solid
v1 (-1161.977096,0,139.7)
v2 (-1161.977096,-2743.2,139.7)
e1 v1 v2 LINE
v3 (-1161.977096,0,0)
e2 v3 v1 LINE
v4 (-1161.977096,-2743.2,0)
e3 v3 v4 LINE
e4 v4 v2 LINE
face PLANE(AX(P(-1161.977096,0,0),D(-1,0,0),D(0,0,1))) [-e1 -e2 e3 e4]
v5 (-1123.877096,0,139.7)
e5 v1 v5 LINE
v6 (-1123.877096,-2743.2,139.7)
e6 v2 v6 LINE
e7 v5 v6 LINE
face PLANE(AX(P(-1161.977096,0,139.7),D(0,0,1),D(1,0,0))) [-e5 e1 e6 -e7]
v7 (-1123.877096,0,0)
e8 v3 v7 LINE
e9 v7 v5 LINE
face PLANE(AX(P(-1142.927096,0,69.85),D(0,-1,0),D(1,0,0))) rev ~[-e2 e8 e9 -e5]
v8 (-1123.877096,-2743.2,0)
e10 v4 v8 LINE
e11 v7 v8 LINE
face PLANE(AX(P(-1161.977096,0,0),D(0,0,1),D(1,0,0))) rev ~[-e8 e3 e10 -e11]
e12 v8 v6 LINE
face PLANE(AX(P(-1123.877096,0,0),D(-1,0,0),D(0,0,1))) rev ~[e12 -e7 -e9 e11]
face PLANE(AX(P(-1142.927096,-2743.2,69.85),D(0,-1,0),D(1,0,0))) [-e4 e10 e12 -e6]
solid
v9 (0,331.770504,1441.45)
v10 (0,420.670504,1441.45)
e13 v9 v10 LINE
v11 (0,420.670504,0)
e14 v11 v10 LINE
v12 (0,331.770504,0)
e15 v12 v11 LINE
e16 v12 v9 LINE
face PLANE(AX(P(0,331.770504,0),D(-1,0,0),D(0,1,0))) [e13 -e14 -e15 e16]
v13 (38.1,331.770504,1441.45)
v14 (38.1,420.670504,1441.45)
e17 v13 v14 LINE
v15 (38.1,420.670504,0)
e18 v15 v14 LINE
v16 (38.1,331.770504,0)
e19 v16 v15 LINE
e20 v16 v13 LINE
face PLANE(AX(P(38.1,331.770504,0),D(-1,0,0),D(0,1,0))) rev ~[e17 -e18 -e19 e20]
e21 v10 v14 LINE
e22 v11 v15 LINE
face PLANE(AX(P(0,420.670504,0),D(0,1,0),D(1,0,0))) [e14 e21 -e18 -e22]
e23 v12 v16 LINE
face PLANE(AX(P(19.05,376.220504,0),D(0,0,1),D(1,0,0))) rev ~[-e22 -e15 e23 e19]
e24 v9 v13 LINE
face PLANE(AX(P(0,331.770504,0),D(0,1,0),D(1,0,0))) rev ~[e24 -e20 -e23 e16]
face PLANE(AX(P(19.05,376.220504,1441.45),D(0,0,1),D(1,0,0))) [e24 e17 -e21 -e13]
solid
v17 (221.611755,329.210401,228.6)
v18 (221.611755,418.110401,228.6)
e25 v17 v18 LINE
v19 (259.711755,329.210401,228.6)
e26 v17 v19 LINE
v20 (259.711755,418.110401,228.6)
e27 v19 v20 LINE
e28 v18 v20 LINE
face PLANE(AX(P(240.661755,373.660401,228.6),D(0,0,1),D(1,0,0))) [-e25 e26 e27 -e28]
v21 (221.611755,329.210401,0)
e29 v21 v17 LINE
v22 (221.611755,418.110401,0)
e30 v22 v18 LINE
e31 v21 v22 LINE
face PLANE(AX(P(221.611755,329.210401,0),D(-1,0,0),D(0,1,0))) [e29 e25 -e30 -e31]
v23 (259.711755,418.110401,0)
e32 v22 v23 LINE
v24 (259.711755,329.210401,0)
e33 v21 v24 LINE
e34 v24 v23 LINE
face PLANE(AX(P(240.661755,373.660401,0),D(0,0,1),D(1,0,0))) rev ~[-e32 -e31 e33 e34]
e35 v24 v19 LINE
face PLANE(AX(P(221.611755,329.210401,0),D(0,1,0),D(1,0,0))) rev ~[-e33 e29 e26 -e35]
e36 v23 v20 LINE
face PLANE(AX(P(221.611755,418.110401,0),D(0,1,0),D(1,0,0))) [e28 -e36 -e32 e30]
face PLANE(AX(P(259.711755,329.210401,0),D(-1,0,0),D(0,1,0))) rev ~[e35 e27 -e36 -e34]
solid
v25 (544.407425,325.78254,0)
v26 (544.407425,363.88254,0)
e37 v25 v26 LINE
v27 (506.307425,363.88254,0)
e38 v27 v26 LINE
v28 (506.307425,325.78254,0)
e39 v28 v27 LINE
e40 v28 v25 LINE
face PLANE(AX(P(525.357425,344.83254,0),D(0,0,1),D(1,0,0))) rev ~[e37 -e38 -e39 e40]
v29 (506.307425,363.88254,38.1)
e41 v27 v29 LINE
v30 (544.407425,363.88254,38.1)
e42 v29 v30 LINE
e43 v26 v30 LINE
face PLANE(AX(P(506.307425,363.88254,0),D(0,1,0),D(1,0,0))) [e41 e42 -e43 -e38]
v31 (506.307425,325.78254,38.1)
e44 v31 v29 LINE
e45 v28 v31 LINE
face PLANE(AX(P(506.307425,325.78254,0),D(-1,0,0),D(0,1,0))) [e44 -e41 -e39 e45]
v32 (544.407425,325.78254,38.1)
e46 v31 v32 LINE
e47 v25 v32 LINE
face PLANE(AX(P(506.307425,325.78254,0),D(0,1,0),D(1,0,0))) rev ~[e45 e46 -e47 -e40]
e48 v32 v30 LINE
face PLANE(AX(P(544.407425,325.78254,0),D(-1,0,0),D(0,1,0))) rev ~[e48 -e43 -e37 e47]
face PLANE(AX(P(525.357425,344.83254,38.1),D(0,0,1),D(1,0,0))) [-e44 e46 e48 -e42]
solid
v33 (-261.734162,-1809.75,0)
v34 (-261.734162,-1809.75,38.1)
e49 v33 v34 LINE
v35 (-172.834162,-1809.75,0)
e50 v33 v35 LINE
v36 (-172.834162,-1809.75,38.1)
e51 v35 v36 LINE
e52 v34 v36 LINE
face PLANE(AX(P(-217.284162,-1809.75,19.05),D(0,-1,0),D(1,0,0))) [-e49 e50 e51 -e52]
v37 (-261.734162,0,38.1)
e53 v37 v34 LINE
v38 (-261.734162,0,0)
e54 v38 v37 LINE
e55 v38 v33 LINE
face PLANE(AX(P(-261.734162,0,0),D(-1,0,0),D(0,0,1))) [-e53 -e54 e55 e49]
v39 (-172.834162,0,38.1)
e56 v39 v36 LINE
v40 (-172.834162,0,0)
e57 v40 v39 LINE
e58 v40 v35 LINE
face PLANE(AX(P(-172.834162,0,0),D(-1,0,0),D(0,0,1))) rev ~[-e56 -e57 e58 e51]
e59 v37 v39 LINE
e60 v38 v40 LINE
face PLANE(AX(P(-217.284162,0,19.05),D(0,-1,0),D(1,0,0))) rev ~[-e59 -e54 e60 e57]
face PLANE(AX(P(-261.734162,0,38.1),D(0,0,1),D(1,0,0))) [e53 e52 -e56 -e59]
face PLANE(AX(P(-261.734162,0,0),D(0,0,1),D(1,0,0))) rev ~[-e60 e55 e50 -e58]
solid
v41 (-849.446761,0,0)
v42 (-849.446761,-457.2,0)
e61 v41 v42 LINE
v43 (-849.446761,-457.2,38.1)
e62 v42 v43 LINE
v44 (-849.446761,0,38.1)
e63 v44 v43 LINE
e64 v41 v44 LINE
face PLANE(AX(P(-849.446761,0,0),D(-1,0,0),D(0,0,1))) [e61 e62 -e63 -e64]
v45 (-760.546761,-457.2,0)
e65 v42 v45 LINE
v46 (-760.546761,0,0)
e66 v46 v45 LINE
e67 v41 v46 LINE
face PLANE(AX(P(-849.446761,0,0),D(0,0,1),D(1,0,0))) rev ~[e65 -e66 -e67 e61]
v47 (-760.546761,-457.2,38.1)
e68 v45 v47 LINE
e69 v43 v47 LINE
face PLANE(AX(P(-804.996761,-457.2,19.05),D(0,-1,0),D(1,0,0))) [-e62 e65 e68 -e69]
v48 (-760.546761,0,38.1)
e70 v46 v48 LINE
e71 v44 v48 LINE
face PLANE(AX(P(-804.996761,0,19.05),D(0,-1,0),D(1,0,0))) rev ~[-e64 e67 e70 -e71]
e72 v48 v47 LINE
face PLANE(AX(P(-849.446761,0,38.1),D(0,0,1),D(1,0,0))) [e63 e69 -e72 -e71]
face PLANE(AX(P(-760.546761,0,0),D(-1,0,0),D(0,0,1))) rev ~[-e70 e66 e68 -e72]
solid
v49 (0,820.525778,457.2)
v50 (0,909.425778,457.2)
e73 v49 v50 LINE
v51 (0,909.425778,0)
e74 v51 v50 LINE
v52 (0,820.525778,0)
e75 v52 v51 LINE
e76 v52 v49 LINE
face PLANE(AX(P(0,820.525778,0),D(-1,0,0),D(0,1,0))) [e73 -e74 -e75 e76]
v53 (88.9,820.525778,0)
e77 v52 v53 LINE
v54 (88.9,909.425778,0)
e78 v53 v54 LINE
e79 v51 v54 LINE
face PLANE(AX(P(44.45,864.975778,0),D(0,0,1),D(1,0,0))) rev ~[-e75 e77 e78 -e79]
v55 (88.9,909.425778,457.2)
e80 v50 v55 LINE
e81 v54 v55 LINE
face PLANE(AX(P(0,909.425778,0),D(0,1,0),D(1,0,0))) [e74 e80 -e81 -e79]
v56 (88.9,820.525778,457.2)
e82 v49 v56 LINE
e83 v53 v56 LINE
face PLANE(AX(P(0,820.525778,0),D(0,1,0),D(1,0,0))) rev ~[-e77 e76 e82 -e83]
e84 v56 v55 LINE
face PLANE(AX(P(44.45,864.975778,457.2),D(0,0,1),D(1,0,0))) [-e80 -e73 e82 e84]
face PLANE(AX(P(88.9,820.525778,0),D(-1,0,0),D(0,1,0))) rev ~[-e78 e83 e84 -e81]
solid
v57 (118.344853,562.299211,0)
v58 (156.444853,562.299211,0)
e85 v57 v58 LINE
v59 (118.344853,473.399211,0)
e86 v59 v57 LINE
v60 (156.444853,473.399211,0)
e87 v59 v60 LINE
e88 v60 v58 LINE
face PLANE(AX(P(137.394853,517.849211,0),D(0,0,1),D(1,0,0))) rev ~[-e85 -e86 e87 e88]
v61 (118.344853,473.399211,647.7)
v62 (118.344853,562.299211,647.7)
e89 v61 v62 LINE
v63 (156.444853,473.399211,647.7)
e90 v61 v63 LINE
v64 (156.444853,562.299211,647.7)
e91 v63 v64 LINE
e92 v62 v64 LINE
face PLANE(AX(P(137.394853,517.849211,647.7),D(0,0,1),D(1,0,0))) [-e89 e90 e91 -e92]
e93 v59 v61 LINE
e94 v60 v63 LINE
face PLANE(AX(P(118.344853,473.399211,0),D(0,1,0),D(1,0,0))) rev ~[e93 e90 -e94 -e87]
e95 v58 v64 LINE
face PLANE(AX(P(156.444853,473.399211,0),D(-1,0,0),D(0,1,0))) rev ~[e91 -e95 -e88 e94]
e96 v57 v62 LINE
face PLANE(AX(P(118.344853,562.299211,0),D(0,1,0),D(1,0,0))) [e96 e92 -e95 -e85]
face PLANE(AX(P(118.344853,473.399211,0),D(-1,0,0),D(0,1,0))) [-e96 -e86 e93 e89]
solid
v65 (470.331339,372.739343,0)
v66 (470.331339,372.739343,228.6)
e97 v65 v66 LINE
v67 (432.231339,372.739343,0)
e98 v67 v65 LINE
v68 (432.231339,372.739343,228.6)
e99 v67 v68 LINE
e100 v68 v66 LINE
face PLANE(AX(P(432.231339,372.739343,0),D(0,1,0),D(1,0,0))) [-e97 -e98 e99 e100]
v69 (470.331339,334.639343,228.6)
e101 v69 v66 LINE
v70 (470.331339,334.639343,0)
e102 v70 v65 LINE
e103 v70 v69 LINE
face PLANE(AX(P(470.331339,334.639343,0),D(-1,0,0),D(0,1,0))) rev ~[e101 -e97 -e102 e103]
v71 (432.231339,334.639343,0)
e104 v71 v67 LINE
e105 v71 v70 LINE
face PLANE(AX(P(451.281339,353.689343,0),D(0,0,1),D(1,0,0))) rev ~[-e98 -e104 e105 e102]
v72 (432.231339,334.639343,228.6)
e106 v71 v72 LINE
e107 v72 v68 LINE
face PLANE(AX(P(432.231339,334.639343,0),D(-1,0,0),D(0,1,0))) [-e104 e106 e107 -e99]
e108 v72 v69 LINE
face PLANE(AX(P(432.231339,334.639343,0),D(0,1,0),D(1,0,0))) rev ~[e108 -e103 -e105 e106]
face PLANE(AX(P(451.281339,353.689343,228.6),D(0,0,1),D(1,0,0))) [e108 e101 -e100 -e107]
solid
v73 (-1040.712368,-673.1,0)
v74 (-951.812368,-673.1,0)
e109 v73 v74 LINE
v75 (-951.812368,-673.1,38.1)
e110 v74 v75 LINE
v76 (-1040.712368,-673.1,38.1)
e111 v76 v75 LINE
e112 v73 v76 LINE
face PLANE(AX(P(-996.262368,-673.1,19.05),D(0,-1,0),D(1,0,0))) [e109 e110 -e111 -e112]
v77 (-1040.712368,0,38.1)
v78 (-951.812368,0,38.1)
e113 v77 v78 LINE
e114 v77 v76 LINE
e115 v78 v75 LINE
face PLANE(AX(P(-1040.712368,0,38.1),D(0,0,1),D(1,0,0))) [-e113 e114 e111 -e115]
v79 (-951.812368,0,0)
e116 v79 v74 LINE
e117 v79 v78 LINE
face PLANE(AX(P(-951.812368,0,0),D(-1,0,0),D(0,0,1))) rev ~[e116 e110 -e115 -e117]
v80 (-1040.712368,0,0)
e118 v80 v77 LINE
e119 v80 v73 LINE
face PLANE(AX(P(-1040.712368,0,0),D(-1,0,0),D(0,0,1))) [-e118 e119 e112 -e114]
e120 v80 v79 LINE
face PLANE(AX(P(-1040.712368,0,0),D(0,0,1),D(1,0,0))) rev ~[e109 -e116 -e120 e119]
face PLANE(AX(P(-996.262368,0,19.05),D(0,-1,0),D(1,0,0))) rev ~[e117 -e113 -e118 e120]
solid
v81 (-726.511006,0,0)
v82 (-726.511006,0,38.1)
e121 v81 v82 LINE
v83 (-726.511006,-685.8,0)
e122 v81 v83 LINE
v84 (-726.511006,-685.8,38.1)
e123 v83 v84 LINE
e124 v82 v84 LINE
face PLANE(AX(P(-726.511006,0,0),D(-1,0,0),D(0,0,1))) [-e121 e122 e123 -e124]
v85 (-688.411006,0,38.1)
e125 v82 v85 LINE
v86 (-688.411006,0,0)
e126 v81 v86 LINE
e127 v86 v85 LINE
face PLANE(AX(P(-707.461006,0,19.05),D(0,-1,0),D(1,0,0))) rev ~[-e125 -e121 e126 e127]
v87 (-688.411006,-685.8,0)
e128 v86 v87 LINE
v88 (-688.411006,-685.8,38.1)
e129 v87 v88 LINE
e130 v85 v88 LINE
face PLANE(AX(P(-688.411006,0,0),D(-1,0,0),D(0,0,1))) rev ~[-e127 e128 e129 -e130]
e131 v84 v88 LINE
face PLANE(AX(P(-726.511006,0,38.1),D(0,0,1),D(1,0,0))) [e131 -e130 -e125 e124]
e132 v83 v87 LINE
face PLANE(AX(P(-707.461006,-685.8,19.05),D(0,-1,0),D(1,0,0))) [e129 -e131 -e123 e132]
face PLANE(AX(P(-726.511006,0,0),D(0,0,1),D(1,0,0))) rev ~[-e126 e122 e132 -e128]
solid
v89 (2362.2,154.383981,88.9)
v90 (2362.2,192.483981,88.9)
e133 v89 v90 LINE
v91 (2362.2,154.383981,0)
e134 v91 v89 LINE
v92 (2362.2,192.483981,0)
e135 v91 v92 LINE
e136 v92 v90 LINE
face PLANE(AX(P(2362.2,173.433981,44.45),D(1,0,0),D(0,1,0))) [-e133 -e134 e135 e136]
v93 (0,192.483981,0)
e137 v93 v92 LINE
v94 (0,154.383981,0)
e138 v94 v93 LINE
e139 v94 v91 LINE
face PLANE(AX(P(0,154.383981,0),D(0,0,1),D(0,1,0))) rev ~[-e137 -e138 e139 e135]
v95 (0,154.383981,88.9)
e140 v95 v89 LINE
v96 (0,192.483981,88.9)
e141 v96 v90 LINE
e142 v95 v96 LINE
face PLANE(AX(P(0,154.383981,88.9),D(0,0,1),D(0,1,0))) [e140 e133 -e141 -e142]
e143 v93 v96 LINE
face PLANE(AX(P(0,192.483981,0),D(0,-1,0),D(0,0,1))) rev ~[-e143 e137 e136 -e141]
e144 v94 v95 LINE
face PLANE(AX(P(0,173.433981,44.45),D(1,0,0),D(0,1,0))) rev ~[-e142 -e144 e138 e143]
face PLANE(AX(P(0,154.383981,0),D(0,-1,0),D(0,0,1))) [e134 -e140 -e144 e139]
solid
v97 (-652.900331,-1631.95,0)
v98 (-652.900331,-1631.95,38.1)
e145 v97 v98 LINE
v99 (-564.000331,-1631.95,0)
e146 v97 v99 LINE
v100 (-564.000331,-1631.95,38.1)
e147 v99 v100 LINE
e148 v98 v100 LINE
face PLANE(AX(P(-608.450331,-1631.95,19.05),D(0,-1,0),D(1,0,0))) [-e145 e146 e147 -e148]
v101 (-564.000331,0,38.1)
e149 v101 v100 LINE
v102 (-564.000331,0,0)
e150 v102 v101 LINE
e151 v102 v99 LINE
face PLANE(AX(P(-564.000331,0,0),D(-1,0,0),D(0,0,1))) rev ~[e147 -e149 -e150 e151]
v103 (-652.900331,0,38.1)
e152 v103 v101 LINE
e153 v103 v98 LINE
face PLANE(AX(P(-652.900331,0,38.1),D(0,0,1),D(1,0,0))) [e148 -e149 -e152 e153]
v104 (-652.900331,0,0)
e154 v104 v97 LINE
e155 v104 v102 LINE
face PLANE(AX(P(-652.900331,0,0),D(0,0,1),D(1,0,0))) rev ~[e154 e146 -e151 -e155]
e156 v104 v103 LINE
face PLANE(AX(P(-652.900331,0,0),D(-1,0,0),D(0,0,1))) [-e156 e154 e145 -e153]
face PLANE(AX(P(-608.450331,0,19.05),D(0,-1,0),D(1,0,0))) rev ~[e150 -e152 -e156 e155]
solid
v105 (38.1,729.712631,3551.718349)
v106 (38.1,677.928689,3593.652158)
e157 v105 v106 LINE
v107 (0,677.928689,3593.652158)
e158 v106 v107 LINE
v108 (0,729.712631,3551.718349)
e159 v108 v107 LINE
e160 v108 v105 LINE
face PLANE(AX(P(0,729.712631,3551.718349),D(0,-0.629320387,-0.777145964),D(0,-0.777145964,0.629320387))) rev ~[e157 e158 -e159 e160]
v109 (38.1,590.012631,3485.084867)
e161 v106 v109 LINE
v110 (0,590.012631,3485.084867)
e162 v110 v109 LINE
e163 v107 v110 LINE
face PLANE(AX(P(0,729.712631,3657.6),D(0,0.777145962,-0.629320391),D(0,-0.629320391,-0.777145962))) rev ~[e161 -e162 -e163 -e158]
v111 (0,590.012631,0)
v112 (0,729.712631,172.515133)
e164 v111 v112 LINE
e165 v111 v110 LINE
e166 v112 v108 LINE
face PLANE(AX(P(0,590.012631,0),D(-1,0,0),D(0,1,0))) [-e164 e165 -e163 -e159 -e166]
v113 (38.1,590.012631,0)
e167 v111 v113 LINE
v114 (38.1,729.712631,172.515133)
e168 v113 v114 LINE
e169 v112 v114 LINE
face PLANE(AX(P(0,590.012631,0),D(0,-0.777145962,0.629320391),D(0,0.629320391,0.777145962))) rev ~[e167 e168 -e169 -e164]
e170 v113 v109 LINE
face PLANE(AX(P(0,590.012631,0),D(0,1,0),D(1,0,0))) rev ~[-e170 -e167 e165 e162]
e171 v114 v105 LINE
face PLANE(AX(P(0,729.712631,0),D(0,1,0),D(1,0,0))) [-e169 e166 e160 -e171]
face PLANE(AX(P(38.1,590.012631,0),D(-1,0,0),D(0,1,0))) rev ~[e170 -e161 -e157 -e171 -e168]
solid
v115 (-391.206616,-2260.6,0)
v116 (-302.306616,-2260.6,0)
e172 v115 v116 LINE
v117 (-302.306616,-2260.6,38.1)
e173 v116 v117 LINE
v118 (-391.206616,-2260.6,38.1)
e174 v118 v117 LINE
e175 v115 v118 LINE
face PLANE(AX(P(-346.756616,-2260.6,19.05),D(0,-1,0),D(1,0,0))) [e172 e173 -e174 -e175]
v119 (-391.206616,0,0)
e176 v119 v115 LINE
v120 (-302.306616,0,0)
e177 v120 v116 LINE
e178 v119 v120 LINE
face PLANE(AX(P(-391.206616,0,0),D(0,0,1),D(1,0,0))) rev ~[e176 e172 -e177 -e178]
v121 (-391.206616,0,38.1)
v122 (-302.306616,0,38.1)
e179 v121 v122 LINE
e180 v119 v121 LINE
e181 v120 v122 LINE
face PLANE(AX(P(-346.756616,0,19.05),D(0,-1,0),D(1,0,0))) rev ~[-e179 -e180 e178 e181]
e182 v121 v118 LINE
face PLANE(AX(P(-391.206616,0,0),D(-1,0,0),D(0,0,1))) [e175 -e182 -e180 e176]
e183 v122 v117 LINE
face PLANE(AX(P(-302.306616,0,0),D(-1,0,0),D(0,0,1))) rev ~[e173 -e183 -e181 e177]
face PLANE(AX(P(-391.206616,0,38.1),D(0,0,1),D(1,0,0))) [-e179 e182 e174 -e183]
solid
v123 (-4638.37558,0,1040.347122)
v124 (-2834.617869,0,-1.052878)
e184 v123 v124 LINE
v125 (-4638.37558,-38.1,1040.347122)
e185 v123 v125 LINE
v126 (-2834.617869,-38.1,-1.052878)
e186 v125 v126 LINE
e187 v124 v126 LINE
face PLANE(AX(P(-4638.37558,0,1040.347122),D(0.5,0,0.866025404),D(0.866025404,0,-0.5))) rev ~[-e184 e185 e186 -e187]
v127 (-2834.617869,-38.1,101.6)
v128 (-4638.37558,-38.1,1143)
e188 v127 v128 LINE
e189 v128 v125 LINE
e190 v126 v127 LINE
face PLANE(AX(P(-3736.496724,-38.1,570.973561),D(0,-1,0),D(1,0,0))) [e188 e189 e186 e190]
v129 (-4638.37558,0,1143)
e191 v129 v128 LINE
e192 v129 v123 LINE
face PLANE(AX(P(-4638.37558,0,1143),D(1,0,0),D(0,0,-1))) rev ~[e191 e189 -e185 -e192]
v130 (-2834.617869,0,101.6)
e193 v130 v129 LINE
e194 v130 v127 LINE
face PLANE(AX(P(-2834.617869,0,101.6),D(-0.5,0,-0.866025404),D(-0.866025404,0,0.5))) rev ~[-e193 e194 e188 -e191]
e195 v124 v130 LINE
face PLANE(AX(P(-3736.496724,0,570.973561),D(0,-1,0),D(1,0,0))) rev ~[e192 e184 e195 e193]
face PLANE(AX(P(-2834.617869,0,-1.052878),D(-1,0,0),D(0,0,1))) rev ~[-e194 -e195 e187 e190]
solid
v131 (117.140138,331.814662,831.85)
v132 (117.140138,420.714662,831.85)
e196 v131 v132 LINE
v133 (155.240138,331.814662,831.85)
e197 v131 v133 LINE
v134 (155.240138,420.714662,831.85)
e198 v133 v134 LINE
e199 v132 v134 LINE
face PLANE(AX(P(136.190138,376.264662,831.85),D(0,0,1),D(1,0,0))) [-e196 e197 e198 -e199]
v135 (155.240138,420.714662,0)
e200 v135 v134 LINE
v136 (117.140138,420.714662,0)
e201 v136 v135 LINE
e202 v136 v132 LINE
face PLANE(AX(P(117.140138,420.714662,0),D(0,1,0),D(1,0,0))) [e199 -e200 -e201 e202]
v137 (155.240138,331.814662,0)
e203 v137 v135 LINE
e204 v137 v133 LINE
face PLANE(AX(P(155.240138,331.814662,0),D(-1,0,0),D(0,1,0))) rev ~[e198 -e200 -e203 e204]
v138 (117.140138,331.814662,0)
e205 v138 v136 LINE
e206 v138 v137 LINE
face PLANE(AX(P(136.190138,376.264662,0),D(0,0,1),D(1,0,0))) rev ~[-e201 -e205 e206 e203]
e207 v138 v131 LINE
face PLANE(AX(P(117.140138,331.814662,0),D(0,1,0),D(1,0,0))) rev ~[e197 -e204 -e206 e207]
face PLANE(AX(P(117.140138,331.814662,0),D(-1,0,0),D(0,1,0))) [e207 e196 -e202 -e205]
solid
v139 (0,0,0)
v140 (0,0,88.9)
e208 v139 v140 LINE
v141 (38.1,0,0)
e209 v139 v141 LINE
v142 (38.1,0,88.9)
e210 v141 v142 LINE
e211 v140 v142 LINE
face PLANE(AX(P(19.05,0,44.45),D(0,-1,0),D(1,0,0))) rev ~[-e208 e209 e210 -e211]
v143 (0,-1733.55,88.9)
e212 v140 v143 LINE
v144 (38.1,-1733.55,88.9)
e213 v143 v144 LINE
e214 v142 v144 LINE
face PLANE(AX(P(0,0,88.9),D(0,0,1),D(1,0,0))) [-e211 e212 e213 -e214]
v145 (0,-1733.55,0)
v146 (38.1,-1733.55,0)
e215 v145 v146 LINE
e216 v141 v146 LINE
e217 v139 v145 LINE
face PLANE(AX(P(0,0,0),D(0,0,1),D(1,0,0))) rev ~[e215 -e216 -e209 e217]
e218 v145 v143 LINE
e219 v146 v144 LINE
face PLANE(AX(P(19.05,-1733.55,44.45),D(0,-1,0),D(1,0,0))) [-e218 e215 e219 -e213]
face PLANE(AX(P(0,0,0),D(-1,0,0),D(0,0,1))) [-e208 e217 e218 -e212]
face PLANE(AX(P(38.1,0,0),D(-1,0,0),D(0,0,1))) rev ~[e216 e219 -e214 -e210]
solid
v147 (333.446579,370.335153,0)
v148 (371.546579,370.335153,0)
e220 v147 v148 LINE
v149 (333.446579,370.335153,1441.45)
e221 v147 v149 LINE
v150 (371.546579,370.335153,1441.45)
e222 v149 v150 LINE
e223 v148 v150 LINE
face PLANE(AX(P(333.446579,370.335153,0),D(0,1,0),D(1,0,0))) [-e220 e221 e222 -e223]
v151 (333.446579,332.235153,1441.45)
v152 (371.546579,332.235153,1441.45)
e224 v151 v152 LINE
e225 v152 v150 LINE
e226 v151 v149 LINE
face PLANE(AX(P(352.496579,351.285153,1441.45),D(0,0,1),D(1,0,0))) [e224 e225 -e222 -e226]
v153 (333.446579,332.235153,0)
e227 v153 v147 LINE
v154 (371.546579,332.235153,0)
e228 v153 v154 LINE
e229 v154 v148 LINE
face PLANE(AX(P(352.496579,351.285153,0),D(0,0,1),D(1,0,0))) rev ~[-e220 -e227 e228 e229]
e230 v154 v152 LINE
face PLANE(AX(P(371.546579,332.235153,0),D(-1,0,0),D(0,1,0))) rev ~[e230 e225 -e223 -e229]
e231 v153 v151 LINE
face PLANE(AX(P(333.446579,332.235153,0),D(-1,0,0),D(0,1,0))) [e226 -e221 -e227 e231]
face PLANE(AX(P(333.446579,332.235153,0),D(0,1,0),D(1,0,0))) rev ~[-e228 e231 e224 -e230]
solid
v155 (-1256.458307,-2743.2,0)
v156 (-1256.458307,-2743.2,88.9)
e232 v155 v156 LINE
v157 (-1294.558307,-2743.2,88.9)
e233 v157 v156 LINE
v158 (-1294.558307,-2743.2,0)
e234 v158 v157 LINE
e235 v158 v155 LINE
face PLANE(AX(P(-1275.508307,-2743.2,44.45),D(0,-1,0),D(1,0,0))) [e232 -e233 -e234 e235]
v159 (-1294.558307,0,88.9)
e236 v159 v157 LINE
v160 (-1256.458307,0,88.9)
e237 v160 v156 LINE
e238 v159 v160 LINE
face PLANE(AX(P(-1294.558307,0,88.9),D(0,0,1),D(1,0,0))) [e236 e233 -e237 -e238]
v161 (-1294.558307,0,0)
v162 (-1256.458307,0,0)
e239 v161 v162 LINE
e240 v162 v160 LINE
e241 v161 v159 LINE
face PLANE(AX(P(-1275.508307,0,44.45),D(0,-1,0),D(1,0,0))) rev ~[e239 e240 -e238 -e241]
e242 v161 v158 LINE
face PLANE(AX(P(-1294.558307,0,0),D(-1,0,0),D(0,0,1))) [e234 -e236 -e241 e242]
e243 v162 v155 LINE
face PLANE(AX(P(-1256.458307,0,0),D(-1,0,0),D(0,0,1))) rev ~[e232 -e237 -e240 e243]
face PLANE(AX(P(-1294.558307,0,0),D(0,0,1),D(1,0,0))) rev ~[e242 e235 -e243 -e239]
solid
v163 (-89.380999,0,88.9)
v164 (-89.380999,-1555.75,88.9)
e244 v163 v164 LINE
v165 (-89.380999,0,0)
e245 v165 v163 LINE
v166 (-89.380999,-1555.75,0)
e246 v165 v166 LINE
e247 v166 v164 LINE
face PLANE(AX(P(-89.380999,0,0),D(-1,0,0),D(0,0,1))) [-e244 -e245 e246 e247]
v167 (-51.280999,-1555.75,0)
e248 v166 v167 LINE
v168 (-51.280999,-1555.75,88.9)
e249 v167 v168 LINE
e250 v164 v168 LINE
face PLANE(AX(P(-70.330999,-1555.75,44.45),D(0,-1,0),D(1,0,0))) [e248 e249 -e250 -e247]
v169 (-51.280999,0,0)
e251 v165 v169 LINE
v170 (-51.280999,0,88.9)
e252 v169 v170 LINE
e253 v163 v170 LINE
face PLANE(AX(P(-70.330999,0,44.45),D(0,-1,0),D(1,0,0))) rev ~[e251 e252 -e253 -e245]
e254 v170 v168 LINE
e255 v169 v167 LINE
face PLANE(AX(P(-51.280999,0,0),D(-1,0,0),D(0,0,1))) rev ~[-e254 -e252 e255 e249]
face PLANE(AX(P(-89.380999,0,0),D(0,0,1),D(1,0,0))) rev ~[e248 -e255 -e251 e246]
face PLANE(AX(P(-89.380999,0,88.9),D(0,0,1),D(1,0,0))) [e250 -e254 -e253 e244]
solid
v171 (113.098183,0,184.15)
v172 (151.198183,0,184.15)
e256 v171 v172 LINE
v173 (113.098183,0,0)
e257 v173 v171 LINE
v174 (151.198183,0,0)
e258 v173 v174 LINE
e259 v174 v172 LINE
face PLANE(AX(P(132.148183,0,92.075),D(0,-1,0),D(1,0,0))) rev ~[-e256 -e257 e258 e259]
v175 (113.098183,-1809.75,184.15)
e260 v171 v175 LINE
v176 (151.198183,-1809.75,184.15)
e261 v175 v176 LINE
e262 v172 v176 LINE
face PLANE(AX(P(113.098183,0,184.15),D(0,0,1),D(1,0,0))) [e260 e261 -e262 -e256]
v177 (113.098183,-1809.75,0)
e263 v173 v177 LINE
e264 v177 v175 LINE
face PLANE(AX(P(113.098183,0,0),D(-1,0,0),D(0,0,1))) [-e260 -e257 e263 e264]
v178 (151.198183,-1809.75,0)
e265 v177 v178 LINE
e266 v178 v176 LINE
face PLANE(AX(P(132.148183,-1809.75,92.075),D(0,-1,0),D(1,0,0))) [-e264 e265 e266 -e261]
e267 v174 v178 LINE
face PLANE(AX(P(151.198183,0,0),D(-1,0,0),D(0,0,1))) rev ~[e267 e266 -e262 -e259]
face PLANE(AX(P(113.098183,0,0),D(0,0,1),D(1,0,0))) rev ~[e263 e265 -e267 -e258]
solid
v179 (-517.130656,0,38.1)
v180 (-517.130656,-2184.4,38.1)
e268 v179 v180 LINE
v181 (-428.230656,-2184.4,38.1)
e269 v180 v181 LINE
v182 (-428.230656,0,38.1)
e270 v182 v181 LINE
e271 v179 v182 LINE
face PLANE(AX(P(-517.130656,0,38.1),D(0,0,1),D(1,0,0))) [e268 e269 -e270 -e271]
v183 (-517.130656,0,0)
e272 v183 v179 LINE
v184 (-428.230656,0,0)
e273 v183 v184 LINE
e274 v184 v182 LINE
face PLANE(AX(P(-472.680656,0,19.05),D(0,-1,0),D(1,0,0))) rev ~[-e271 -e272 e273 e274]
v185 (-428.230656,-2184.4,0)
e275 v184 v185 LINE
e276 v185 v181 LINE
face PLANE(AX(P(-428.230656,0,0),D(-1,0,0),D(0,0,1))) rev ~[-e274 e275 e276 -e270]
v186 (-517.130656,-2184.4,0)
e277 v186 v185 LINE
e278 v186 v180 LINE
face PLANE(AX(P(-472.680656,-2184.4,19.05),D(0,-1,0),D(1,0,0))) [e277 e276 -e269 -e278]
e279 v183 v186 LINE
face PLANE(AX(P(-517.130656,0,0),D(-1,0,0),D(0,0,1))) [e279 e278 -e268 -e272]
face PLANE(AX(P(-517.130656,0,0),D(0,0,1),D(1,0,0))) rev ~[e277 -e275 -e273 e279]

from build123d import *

# Parameters (mm, degrees)
F0_W      = 38.1
F0_H      = 88.9
F1_DEPTH  = 1733.55
F2_W      = 38.1
F2_H      = 184.15
F3_DEPTH  = 1809.75
F4_W      = 38.1
F4_H      = 88.9
F5_DEPTH  = 1555.75
F6_W      = 38.1
F6_H      = 88.9
F7_DEPTH  = 2362.2
F8_W      = 88.9
F8_H      = 38.1
F9_DEPTH  = 1809.75
F10_W     = 88.9
F10_H     = 38.1
F11_DEPTH = 2260.6
F12_W     = 38.1
F12_H     = 88.9
F13_DEPTH = 1441.45
F14_W     = 38.1
F14_H     = 139.7
F15_DEPTH = 3657.6
F17_DEPTH = 38.1
F19_DEPTH = 38.1
F20_W     = 88.9
F20_H     = 38.1
F21_DEPTH = 2184.4
F22_W     = 88.9
F22_H     = 38.1
F23_DEPTH = 1631.95
F24_W     = 38.1
F24_H     = 88.9
F25_DEPTH = 831.85
F26_W     = 38.1
F26_H     = 88.9
F27_DEPTH = 228.6
F28_W     = 38.1
F28_H     = 38.1
F29_DEPTH = 1441.45
F30_W     = 38.1
F30_H     = 38.1
F31_DEPTH = 685.8
F32_W     = 88.9
F32_H     = 38.1
F33_DEPTH = 457.2
F34_W     = 88.9
F34_H     = 88.9
F35_DEPTH = 457.2
F36_W     = 38.1
F36_H     = 38.1
F37_DEPTH = 228.6
F38_W     = 38.1
F38_H     = 38.1
F39_DEPTH = 38.1
F41_W     = 88.9
F41_H     = 38.1
F42_DEPTH = 673.1
F43_W     = 38.1
F43_H     = 139.7
F44_DEPTH = 2743.2
F45_DEPTH = 38.1
F46_W     = 38.1
F46_H     = 88.9
F47_DEPTH = 2743.2
F48_W     = 38.1
F48_H     = 88.9
F49_DEPTH = 647.7


with BuildPart() as f1:
    # F0 (on Front) → F1 (new body)
    with BuildSketch(Plane.XZ):
        with Locations((19.05, 44.45)):
            Rectangle(F0_W, F0_H)
    extrude(amount=F1_DEPTH)


with BuildPart() as f3:
    # F2 (on Front) → F3 (new body)
    with BuildSketch(Plane.XZ):
        with Locations((132.148183, 92.075)):
            Rectangle(F2_W, F2_H)
    extrude(amount=F3_DEPTH)


with BuildPart() as f5:
    # F4 (on Front) → F5 (new body)
    with BuildSketch(Plane.XZ):
        with Locations((-70.330999, 44.45)):
            Rectangle(F4_W, F4_H)
    extrude(amount=F5_DEPTH)


with BuildPart() as f7:
    # F6 (on Right) → F7 (new body)
    with BuildSketch(Plane.YZ):
        with Locations((173.433981, 44.45)):
            Rectangle(F6_W, F6_H)
    extrude(amount=F7_DEPTH)


with BuildPart() as f9:
    # F8 (on Front) → F9 (new body)
    with BuildSketch(Plane.XZ):
        with Locations((-217.284162, 19.05)):
            Rectangle(F8_W, F8_H)
    extrude(amount=F9_DEPTH)


with BuildPart() as f11:
    # F10 (on Front) → F11 (new body)
    with BuildSketch(Plane.XZ):
        with Locations((-346.756616, 19.05)):
            Rectangle(F10_W, F10_H)
    extrude(amount=F11_DEPTH)


with BuildPart() as f13:
    # F12 (on Top) → F13 (new body)
    with BuildSketch(Plane.XY):
        with Locations((19.05, 376.220504)):
            Rectangle(F12_W, F12_H)
    extrude(amount=F13_DEPTH)


with BuildPart() as f15:
    # F14 (on Top) → F15 (new body)
    with BuildSketch(Plane.XY):
        with Locations((19.05, 659.862631)):
            Rectangle(F14_W, F14_H)
    extrude(amount=F15_DEPTH)

    # F16 (on face) → F17 (cut)
    with BuildSketch(Plane(origin=(0, 0, 0), x_dir=(0, -1, 0), z_dir=(-1, 0, 0))):
        Polygon((-729.712631, 3657.6), (-590.012631, 3485.084867), (-590.012631, 3657.6), align=None)
        Polygon((-729.712631, 0), (-590.012631, 0), (-729.712631, 172.515133), align=None)
    extrude(amount=-F17_DEPTH, mode=Mode.SUBTRACT)

    # F18 (on face) → F19 (cut)
    with BuildSketch(Plane(origin=(0, 0, 0), x_dir=(0, -1, 0), z_dir=(-1, 0, 0))):
        Polygon((-677.928689, 3593.652158), (-729.712631, 3657.6), (-729.712631, 3551.718349), align=None)
    extrude(amount=-F19_DEPTH, mode=Mode.SUBTRACT)


with BuildPart() as f21:
    # F20 (on Front) → F21 (new body)
    with BuildSketch(Plane.XZ):
        with Locations((-472.680656, 19.05)):
            Rectangle(F20_W, F20_H)
    extrude(amount=F21_DEPTH)


with BuildPart() as f23:
    # F22 (on Front) → F23 (new body)
    with BuildSketch(Plane.XZ):
        with Locations((-608.450331, 19.05)):
            Rectangle(F22_W, F22_H)
    extrude(amount=F23_DEPTH)


with BuildPart() as f25:
    # F24 (on Top) → F25 (new body)
    with BuildSketch(Plane.XY):
        with Locations((136.190138, 376.264662)):
            Rectangle(F24_W, F24_H)
    extrude(amount=F25_DEPTH)


with BuildPart() as f27:
    # F26 (on Top) → F27 (new body)
    with BuildSketch(Plane.XY):
        with Locations((240.661755, 373.660401)):
            Rectangle(F26_W, F26_H)
    extrude(amount=F27_DEPTH)


with BuildPart() as f29:
    # F28 (on Top) → F29 (new body)
    with BuildSketch(Plane.XY):
        with Locations((352.496579, 351.285153)):
            Rectangle(F28_W, F28_H)
    extrude(amount=F29_DEPTH)


with BuildPart() as f31:
    # F30 (on Front) → F31 (new body)
    with BuildSketch(Plane.XZ):
        with Locations((-707.461006, 19.05)):
            Rectangle(F30_W, F30_H)
    extrude(amount=F31_DEPTH)


with BuildPart() as f33:
    # F32 (on Front) → F33 (new body)
    with BuildSketch(Plane.XZ):
        with Locations((-804.996761, 19.05)):
            Rectangle(F32_W, F32_H)
    extrude(amount=F33_DEPTH)


with BuildPart() as f35:
    # F34 (on Top) → F35 (new body)
    with BuildSketch(Plane.XY):
        with Locations((44.45, 864.975778)):
            Rectangle(F34_W, F34_H)
    extrude(amount=F35_DEPTH)


with BuildPart() as f37:
    # F36 (on Top) → F37 (new body)
    with BuildSketch(Plane.XY):
        with Locations((451.281339, 353.689343)):
            Rectangle(F36_W, F36_H)
    extrude(amount=F37_DEPTH)


with BuildPart() as f39:
    # F38 (on Top) → F39 (new body)
    with BuildSketch(Plane.XY):
        with Locations((525.357425, 344.83254)):
            Rectangle(F38_W, F38_H)
    extrude(amount=F39_DEPTH)


with BuildPart() as f42:
    # F41 (on Front) → F42 (new body)
    with BuildSketch(Plane.XZ):
        with Locations((-996.262368, 19.05)):
            Rectangle(F41_W, F41_H)
    extrude(amount=F42_DEPTH)


with BuildPart() as f44:
    # F43 (on Front) → F44 (new body)
    with BuildSketch(Plane.XZ):
        with Locations((-1142.927096, 69.85)):
            Rectangle(F43_W, F43_H)
    extrude(amount=F44_DEPTH)


with BuildPart() as f45:
    # F40 (on Front) → F45 (new body)
    with BuildSketch(Plane.XZ):
        Polygon((-4638.37558, 1040.347122), (-2834.617869, -1.052878), (-2834.617869, 101.6), (-4638.37558, 1143), align=None)
    extrude(amount=F45_DEPTH)


with BuildPart() as f47:
    # F46 (on Front) → F47 (new body)
    with BuildSketch(Plane.XZ):
        with Locations((-1275.508307, 44.45)):
            Rectangle(F46_W, F46_H)
    extrude(amount=F47_DEPTH)


with BuildPart() as f49:
    # F48 (on Top) → F49 (new body)
    with BuildSketch(Plane.XY):
        with Locations((137.394853, 517.849211)):
            Rectangle(F48_W, F48_H)
    extrude(amount=F49_DEPTH)


solid = Compound([f1.part, f3.part, f5.part, f7.part, f9.part, f11.part, f13.part, f15.part, f21.part, f23.part, f25.part, f27.part, f29.part, f31.part, f33.part, f35.part, f37.part, f39.part, f42.part, f44.part, f45.part, f47.part, f49.part])
